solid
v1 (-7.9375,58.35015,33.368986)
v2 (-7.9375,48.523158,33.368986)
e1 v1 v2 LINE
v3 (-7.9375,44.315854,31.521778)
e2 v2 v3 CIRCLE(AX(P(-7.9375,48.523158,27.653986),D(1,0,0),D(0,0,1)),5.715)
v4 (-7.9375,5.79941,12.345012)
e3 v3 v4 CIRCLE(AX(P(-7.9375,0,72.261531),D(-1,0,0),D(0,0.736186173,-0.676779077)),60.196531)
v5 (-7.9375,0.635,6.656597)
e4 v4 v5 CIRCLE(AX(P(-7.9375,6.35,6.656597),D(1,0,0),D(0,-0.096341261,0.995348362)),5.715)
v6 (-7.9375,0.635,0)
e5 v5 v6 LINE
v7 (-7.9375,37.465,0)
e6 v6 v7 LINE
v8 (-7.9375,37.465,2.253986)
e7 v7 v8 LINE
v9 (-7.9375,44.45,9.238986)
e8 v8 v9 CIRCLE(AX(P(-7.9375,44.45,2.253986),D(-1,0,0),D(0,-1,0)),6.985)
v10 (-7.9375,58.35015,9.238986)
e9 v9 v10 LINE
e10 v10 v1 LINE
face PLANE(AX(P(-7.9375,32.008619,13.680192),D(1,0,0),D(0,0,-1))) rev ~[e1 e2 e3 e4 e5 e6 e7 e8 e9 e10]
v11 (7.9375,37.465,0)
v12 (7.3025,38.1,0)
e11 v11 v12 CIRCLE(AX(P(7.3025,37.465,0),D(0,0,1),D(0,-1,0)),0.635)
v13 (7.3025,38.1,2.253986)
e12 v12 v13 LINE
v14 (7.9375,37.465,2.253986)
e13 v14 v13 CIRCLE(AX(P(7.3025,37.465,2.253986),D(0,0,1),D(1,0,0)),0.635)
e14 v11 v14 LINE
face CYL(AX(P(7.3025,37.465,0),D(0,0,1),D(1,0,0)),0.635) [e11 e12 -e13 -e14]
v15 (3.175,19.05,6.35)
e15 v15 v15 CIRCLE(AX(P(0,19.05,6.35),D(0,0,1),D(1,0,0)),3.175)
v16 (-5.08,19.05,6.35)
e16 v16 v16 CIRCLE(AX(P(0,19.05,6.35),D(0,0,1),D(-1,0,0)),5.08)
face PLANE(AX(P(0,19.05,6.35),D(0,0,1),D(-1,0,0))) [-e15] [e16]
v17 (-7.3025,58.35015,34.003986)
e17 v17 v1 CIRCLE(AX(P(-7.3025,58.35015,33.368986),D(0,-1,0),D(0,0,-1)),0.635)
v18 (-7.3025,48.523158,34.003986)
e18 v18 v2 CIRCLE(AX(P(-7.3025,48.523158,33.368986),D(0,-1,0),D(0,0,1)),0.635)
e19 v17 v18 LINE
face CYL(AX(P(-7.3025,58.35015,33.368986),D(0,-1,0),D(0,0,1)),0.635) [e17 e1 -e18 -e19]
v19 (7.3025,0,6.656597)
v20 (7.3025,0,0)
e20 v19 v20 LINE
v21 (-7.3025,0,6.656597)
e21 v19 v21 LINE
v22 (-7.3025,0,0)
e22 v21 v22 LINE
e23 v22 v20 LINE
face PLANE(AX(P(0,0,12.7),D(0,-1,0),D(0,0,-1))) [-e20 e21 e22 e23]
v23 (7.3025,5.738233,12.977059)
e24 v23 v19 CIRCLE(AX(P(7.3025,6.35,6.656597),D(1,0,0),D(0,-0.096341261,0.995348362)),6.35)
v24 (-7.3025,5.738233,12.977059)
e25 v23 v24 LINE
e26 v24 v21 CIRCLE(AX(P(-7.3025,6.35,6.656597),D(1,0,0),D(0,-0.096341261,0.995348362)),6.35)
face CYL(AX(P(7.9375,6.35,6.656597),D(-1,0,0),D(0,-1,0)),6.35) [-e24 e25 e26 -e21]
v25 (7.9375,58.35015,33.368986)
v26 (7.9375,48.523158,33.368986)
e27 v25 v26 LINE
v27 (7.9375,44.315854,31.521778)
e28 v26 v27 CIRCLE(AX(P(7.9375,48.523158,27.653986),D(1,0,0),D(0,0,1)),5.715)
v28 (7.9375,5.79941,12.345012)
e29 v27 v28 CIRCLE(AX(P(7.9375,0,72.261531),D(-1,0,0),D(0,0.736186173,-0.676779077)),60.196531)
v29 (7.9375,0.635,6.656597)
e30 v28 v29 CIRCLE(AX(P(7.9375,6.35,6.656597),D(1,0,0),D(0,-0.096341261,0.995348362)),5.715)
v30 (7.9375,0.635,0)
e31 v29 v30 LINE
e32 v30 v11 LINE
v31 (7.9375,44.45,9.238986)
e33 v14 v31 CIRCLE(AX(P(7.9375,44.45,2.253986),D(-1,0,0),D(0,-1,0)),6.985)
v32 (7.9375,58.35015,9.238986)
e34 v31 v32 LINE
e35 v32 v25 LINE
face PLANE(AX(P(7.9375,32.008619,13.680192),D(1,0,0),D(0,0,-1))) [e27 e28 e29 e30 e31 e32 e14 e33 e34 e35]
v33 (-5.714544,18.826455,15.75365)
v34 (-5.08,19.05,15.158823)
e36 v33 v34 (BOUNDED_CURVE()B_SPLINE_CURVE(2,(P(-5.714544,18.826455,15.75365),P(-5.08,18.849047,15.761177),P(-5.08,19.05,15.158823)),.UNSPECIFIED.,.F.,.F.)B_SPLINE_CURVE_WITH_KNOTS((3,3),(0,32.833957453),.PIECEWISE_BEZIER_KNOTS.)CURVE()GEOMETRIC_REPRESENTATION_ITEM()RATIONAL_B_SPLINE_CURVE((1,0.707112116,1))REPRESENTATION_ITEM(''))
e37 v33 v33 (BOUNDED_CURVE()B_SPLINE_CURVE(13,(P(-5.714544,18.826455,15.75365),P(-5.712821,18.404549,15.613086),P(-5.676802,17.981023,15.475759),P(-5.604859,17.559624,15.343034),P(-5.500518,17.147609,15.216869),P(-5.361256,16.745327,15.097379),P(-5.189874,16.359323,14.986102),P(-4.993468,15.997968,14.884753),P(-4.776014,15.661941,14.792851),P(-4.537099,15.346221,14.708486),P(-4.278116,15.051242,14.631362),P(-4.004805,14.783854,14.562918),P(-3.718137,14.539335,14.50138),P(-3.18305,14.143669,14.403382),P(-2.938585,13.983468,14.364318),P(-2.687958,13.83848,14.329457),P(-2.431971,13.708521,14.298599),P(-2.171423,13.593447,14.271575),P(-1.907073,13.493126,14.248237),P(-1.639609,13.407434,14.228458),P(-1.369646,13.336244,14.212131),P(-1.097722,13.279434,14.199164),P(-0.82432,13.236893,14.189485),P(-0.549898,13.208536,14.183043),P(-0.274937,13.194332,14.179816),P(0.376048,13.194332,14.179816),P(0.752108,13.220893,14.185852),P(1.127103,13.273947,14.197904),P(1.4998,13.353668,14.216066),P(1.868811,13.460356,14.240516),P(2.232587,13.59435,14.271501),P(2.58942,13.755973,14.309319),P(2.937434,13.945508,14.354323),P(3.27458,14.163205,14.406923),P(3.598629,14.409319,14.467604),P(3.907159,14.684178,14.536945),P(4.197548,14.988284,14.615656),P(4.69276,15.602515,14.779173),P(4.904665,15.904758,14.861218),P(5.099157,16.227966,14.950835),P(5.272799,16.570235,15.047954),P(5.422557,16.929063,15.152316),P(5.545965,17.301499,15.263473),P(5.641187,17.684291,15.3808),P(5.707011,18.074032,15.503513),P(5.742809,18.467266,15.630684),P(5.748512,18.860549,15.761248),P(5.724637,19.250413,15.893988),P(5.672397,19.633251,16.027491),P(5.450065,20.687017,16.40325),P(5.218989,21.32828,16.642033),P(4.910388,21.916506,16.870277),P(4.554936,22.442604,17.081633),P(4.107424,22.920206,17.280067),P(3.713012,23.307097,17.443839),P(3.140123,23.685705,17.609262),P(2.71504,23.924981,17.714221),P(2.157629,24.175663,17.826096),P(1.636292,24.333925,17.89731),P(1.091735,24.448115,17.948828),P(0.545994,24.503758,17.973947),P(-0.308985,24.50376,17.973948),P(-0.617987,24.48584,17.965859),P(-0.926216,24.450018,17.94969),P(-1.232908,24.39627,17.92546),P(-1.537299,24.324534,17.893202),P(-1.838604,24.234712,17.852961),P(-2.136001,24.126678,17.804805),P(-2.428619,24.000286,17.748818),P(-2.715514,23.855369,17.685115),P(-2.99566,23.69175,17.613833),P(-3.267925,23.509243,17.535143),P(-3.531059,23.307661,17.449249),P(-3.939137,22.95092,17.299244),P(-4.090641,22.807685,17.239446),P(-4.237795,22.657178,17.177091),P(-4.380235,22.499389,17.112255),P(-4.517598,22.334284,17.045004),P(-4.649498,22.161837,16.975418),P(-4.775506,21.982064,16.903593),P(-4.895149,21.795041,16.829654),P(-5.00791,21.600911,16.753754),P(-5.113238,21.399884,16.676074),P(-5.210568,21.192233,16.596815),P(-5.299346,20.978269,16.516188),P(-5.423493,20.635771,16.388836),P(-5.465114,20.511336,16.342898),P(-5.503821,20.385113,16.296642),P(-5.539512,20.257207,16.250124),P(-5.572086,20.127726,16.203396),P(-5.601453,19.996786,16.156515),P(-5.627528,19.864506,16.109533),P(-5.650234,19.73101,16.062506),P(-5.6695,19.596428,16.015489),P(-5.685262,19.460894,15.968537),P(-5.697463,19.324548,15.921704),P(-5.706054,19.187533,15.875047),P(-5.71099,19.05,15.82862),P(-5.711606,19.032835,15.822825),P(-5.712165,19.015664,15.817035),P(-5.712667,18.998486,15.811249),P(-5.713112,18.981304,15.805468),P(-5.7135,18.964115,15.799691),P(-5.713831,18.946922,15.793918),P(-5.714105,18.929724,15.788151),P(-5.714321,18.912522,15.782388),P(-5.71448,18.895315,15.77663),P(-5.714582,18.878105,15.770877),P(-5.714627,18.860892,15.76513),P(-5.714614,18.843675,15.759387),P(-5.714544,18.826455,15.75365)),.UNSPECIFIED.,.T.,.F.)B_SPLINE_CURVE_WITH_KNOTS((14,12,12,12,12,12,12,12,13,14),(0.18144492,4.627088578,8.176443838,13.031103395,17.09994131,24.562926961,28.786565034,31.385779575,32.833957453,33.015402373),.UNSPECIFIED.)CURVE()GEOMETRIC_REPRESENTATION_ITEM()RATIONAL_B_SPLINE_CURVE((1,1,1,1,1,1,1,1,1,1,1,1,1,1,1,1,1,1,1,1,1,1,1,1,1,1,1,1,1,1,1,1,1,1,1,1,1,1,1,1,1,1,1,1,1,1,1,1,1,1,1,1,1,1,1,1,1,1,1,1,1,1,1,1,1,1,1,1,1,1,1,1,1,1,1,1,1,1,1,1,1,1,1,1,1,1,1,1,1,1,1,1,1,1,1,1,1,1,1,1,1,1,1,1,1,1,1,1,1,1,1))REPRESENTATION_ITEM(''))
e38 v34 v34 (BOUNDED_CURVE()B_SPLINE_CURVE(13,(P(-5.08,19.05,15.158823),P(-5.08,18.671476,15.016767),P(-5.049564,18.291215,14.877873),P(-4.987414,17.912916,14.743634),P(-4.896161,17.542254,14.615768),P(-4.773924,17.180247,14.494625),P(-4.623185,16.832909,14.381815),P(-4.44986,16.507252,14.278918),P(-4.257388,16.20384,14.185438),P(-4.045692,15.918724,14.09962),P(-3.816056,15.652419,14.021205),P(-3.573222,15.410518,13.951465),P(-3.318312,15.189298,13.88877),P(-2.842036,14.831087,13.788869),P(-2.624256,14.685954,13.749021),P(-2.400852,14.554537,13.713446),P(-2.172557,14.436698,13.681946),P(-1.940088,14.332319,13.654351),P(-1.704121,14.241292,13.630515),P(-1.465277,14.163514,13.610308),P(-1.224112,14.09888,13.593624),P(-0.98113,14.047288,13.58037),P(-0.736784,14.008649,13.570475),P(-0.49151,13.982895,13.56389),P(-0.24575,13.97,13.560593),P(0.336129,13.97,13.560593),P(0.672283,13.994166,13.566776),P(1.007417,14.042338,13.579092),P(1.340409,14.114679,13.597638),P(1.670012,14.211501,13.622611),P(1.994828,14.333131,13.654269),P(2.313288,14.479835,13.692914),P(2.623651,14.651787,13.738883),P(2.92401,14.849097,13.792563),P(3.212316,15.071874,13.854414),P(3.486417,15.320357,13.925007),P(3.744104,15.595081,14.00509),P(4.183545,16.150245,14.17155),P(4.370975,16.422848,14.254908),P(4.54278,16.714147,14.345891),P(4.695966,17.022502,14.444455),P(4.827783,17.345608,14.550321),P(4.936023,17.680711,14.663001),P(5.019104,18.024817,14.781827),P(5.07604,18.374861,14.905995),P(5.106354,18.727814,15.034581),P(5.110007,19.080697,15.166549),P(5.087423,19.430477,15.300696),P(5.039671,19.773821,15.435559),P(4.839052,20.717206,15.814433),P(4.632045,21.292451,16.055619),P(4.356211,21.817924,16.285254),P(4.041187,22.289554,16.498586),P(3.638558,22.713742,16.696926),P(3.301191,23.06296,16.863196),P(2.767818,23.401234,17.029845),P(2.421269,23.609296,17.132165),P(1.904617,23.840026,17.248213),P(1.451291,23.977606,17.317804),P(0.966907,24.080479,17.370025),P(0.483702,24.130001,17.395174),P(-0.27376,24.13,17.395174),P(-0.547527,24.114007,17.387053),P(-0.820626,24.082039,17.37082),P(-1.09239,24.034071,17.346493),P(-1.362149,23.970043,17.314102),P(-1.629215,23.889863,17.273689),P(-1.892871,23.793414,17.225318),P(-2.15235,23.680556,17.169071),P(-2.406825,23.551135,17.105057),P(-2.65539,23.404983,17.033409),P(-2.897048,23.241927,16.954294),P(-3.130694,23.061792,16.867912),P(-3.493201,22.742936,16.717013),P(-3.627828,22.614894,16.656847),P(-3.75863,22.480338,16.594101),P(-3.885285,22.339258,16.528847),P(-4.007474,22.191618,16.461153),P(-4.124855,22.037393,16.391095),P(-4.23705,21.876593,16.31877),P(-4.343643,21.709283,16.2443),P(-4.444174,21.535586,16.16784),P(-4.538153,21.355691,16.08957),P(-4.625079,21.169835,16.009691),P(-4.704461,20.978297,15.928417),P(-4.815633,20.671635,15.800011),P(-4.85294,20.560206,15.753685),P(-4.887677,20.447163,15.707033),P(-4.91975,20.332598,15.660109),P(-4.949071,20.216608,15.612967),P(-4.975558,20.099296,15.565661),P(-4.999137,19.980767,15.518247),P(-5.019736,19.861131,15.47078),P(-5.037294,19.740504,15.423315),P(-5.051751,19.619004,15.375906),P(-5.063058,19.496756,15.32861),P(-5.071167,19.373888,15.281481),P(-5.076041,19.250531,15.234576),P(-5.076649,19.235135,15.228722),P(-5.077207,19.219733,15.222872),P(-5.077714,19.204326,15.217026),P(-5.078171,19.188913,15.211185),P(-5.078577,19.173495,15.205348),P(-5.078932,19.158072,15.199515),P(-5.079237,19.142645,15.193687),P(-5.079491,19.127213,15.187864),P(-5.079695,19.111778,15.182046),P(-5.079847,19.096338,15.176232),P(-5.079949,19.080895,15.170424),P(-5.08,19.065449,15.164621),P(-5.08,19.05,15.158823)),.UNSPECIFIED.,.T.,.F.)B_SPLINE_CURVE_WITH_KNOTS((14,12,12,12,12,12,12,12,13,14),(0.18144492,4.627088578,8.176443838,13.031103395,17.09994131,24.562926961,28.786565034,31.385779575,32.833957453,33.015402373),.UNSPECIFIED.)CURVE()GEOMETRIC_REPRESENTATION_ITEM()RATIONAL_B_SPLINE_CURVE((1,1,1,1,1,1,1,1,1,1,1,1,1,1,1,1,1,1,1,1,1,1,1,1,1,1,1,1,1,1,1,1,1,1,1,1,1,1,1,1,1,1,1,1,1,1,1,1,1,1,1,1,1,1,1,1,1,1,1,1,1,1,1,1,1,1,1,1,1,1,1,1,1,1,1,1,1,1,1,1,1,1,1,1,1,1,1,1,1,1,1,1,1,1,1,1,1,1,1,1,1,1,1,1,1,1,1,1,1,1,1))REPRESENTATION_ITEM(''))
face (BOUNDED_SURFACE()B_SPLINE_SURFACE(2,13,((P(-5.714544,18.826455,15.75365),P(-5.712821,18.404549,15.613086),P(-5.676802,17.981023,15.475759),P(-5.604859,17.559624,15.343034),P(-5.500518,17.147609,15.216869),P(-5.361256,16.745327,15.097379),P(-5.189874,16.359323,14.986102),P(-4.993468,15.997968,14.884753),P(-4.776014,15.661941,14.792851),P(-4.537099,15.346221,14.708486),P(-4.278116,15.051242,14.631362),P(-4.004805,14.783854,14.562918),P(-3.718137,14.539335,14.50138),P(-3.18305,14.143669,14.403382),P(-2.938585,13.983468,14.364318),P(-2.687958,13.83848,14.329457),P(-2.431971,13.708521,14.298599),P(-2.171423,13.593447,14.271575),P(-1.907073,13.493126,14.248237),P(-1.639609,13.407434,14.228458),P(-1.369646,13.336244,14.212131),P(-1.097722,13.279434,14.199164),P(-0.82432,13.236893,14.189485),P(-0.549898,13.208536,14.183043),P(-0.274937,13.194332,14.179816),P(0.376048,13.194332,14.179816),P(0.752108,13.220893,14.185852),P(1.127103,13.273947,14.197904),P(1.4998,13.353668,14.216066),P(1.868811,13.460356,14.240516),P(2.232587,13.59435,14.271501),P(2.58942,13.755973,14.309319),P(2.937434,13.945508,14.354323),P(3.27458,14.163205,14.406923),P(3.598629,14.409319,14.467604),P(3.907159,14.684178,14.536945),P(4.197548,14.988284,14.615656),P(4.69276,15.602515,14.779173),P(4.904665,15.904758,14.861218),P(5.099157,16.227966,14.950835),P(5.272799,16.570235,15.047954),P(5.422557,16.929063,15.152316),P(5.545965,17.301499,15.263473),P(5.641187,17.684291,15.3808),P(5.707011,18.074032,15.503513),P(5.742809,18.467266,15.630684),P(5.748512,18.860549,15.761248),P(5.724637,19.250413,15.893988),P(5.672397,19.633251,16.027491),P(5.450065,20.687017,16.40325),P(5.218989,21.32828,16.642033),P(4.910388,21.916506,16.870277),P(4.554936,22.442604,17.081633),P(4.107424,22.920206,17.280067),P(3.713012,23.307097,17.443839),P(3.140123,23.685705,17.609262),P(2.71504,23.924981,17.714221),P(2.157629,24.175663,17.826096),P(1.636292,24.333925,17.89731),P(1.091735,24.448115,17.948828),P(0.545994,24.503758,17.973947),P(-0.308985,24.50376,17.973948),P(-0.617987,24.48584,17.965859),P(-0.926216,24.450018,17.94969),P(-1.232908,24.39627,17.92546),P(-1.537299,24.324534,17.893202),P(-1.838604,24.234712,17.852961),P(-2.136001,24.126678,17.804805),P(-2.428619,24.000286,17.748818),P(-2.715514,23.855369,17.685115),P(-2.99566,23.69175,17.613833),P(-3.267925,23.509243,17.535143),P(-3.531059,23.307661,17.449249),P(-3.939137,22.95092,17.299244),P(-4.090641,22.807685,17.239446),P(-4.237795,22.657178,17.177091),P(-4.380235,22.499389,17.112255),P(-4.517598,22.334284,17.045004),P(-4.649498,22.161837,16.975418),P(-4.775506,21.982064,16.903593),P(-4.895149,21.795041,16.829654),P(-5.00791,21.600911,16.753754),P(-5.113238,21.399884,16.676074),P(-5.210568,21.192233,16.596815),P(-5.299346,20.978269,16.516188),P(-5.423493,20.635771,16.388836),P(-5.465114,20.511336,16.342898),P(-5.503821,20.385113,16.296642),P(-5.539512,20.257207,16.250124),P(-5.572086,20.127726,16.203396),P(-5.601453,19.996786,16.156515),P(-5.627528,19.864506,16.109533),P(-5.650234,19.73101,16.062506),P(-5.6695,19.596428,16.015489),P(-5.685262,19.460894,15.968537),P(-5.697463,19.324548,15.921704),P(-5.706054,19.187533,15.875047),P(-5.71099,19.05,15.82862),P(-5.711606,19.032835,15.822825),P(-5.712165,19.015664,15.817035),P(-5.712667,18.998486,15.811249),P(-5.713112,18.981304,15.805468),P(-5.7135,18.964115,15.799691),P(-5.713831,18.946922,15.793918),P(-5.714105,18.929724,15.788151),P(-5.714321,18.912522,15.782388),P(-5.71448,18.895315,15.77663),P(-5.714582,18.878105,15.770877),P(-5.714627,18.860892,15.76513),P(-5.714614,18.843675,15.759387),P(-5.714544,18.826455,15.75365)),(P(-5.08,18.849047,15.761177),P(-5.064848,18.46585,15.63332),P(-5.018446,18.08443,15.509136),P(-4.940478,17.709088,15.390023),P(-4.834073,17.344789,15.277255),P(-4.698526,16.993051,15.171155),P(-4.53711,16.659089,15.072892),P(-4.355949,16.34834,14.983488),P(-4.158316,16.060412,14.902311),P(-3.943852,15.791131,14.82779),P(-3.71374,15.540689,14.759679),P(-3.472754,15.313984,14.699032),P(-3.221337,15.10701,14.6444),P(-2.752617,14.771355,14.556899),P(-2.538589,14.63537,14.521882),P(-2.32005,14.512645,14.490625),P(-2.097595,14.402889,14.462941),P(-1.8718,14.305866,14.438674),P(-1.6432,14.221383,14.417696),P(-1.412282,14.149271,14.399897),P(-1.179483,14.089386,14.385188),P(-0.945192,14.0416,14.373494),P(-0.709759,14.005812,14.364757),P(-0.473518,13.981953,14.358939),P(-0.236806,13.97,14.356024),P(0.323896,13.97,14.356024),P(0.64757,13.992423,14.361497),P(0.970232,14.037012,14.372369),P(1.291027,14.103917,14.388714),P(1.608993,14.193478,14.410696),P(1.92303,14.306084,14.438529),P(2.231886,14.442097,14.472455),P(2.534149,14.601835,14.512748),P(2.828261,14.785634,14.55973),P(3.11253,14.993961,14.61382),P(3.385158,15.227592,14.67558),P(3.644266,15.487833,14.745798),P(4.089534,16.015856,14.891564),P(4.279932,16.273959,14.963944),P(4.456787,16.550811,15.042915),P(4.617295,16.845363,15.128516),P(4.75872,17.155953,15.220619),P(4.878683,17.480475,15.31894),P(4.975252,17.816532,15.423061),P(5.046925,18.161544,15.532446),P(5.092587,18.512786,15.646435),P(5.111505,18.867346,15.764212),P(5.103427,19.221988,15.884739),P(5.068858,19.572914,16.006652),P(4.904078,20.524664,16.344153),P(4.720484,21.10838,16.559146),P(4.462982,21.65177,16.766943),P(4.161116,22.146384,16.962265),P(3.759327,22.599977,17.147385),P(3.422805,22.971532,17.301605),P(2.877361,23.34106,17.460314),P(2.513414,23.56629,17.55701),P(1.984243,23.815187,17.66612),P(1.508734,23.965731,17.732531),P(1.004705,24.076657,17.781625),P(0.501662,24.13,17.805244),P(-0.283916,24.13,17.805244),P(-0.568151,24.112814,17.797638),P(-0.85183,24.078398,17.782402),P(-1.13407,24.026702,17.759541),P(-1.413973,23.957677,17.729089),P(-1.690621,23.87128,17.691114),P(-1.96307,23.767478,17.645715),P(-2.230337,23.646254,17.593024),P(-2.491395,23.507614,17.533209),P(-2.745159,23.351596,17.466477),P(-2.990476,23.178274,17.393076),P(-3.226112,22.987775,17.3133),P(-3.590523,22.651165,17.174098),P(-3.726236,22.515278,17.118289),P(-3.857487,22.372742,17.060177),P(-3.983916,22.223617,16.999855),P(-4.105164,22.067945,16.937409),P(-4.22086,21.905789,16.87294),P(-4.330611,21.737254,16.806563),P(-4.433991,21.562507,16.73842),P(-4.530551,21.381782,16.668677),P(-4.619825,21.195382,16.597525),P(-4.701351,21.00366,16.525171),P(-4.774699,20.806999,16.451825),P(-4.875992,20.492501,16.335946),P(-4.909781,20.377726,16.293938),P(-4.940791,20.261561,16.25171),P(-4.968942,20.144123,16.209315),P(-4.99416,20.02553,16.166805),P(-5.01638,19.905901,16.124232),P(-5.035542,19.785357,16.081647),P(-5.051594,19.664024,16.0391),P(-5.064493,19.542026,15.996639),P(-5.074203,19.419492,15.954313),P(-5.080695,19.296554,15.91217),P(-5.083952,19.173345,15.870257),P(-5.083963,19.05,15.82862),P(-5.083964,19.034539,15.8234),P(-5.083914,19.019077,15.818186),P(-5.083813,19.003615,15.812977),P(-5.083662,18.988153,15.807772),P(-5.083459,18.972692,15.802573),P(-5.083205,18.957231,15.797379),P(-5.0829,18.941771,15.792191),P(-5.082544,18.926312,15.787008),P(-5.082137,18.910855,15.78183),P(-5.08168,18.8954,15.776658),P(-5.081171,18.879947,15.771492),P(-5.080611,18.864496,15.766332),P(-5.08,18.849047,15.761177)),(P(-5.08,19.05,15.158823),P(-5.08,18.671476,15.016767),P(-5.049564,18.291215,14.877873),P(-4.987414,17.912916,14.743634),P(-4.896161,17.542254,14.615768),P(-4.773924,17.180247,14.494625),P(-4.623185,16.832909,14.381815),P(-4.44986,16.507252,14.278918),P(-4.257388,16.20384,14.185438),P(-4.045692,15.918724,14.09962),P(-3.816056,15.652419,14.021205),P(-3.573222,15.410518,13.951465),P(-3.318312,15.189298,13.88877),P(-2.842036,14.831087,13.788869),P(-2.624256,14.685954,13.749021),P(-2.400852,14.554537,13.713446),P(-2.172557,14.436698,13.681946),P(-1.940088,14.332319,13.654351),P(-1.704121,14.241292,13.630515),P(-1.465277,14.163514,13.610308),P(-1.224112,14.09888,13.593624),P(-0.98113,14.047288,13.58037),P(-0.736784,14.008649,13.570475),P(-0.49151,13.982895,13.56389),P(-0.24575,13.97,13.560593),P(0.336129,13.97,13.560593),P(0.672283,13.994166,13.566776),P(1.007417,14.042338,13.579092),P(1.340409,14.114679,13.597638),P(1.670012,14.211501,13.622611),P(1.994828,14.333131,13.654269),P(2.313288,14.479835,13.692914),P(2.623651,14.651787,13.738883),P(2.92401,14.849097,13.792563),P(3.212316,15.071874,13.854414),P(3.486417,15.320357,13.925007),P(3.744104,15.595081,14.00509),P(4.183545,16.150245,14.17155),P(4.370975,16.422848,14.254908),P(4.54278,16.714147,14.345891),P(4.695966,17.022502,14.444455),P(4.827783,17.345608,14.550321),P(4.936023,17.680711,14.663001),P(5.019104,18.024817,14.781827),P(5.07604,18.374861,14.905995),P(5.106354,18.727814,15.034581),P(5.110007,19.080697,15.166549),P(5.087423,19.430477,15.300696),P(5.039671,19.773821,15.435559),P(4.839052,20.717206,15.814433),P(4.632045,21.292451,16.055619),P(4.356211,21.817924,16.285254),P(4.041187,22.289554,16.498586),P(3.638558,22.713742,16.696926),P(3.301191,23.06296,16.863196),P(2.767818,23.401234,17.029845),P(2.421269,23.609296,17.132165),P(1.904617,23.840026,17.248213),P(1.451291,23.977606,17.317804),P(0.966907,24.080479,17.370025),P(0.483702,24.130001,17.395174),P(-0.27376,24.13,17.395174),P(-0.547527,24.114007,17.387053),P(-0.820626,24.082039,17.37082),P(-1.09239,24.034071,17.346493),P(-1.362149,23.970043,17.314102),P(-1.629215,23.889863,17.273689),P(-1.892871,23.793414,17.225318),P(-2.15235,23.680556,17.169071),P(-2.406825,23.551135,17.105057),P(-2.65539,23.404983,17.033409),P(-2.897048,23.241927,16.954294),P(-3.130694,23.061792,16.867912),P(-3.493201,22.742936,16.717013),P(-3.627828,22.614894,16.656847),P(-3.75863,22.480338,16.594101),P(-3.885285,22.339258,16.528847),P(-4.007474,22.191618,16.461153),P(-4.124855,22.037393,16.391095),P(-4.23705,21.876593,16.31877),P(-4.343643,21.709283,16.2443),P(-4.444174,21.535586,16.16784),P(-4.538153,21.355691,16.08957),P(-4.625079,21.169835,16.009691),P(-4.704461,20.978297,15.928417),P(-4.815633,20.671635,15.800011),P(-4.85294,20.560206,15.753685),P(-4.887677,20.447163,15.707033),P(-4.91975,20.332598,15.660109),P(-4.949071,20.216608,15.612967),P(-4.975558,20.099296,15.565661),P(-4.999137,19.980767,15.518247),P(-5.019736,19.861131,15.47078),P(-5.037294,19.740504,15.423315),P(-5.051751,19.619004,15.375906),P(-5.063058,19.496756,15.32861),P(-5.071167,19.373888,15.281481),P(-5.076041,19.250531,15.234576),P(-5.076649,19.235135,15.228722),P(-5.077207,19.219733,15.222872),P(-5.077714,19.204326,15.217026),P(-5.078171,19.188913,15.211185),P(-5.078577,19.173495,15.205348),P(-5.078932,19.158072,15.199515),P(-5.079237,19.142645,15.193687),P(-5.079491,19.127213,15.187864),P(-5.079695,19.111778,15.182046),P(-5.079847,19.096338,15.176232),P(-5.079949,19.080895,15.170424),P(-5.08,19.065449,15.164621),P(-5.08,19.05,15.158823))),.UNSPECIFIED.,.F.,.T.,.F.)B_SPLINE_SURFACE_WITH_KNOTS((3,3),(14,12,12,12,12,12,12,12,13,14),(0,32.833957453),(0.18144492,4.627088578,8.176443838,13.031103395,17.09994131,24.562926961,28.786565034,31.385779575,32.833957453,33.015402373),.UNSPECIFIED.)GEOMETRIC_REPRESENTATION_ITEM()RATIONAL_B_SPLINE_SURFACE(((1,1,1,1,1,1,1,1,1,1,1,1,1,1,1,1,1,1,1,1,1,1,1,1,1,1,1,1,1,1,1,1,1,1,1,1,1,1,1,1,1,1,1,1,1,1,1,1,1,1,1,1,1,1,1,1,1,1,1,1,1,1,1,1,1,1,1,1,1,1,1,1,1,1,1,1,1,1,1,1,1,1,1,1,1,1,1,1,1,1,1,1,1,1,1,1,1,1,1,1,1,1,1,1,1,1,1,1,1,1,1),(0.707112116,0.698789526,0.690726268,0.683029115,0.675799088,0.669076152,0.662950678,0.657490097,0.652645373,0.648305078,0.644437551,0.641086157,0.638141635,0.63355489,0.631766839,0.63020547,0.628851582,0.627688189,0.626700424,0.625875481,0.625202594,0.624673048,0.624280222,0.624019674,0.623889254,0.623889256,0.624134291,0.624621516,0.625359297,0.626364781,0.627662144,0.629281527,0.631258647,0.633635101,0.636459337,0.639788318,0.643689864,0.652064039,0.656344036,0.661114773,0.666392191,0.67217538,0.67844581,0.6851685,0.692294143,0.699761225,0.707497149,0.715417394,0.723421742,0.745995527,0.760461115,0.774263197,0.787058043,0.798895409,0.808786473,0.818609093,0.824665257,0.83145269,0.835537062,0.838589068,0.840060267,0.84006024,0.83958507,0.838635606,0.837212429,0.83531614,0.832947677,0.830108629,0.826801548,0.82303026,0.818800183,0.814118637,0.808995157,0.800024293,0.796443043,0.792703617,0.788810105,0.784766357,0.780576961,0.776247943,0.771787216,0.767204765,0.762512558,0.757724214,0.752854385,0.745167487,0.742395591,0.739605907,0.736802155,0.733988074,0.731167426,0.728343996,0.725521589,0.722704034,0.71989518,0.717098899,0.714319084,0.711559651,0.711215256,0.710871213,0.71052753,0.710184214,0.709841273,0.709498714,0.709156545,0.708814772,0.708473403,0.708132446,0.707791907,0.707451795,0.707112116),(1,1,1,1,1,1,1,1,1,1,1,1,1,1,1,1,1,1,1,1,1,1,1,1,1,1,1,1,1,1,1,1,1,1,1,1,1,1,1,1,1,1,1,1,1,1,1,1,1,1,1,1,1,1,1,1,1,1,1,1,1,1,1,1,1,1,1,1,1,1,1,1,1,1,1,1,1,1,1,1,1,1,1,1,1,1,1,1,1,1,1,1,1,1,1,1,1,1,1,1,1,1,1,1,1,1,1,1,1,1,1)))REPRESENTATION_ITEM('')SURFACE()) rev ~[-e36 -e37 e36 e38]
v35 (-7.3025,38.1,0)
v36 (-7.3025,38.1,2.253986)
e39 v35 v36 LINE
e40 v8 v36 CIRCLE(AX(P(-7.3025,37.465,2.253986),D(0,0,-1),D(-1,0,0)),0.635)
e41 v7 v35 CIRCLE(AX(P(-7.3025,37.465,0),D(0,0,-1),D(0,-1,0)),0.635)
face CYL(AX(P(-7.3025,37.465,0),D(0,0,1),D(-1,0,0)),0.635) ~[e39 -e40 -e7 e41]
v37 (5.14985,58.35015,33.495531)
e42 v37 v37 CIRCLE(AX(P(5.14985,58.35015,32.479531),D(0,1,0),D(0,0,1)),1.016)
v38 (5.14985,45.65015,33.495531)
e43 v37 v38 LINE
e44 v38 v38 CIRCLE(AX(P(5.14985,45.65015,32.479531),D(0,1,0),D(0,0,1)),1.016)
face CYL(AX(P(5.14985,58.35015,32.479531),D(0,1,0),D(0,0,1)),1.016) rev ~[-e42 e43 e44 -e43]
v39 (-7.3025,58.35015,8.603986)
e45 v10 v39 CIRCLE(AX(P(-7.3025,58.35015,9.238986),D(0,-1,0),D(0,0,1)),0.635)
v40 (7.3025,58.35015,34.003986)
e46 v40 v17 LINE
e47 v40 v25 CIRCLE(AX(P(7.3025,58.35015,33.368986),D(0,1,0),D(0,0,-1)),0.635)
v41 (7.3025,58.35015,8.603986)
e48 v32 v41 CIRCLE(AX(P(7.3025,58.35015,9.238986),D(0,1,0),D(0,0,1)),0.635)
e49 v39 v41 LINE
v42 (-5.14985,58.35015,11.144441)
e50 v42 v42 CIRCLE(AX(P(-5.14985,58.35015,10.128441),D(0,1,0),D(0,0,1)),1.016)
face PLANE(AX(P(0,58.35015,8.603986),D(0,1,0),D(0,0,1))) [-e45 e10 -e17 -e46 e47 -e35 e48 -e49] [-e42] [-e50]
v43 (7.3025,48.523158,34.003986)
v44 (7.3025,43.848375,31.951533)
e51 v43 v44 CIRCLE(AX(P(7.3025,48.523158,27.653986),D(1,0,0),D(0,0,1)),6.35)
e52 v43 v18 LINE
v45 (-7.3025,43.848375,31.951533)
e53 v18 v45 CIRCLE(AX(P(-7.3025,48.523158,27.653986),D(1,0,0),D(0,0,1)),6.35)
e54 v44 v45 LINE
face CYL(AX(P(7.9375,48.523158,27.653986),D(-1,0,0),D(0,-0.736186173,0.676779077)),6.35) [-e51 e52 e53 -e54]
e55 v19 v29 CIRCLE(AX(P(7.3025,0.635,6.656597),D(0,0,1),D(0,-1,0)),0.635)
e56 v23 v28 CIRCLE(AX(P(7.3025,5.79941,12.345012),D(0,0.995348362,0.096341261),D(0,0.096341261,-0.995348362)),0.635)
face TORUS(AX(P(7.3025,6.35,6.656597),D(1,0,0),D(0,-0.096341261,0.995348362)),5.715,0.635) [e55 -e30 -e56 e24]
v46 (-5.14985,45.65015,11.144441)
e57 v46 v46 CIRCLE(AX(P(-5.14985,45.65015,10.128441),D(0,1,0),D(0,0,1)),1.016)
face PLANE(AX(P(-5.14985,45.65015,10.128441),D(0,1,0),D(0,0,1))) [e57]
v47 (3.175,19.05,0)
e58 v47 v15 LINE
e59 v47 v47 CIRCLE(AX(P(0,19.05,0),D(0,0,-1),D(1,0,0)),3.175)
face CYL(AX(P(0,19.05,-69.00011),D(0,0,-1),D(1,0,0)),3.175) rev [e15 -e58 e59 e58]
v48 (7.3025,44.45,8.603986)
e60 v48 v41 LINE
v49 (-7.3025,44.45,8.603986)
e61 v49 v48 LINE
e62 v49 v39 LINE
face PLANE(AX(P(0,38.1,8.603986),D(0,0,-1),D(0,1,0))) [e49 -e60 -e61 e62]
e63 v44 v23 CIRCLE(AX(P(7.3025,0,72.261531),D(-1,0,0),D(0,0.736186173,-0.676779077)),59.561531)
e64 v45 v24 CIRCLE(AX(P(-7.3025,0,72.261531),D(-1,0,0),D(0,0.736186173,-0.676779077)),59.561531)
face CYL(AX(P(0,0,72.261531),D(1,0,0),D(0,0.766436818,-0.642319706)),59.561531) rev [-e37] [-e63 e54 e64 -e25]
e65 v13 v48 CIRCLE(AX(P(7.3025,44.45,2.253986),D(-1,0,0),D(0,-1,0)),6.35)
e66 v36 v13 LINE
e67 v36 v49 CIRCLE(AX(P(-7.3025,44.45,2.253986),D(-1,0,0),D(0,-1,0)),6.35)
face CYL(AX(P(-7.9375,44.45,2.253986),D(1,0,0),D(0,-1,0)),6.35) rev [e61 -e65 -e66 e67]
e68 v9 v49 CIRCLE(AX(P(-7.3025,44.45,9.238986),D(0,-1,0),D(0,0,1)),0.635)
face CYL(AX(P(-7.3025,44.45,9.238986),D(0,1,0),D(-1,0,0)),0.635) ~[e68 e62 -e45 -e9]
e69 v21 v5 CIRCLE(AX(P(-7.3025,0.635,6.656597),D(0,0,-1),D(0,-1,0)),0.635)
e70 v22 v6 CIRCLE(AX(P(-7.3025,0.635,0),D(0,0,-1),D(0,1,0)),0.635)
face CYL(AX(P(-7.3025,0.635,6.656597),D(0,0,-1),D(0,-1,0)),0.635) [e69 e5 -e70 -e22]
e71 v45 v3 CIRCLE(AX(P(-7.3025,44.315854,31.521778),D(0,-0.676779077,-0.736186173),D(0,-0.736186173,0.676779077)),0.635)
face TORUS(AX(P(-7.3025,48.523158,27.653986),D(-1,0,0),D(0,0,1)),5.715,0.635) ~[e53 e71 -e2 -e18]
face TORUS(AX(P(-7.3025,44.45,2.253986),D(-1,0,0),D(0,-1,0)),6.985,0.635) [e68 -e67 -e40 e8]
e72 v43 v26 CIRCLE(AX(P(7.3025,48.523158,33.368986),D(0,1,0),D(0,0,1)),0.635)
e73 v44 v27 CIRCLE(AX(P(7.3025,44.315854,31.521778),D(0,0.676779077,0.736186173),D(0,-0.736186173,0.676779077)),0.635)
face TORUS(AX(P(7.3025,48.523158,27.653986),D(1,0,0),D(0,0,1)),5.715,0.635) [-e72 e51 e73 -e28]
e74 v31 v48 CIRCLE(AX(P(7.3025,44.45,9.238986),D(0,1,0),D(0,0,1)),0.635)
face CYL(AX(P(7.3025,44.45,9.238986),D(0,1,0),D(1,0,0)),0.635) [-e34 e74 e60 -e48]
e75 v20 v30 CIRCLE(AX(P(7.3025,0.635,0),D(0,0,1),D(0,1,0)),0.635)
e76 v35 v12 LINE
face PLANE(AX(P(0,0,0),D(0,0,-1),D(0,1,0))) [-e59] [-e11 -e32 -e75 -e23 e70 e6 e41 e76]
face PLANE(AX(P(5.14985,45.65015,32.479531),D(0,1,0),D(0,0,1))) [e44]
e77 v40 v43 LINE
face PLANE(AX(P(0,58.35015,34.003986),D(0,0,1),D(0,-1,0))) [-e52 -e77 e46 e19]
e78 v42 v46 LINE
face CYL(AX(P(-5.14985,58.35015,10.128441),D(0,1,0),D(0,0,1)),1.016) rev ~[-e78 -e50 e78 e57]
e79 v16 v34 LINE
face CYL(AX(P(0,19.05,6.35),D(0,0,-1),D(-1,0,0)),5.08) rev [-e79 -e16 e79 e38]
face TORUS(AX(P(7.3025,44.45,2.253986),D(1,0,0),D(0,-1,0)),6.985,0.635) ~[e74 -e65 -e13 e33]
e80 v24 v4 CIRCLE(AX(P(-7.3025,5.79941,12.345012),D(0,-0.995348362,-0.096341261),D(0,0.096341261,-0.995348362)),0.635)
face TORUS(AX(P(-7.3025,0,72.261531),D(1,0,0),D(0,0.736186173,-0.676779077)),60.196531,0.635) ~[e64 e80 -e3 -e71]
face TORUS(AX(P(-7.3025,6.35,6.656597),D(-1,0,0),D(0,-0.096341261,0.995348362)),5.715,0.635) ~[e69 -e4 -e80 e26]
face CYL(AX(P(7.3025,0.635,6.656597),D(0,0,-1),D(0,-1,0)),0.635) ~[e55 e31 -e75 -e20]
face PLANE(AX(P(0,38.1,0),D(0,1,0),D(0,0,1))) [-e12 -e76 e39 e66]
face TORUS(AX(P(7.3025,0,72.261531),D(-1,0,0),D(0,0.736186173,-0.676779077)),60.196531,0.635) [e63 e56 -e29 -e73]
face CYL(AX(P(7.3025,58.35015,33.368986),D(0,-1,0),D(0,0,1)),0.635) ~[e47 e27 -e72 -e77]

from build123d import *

# Parameters (mm, degrees)
BOSS_EXTRUDE1_DEPTH     = 7.9375
CUT_EXTRUDE1_DEPTH      = 69.000110012
CUT_EXTRUDE1_DEPTH_BACK = 69.000110012
SKETCH2_R               = 3.175
CUT_EXTRUDE4_START      = 6.35
SKETCH2_3_R             = 5.08
SKETCH2_3_R_2           = 3.175
CUT_EXTRUDE4_DEPTH      = 62.650110074
SKETCH3_R               = 1.016
CUT_EXTRUDE2_DEPTH      = 12.7
FILLET1_R               = 6.35
FILLET2_R               = 0.635


with BuildPart() as part:
    # Sketch1 → Boss-Extrude1 (new, symmetric)
    with BuildSketch(Plane(origin=(0, 0, 0), x_dir=(0, 0, -1), z_dir=(1, 0, 0))):
        with BuildLine():
            Line((-12.7, 0), (0, 0))
            Line((0, 0), (0, 38.1))
            Line((0, 38.1), (-8.603985801, 38.1))
            Line((-8.603985801, 38.1), (-8.603985801, 58.35015))
            Line((-8.603985801, 58.35015), (-34.003985801, 58.35015))
            Line((-34.003985801, 58.35015), (-34.003985801, 45.65015))
            ThreePointArc((-34.003985801, 45.65015), (-18.28813969, 25.18827111), (-12.7, 0))
        make_face()
    extrude(amount=BOSS_EXTRUDE1_DEPTH, both=True)

    # Sketch2 → Cut-Extrude1 (cut, two sides: drawn at the far end of the back side and taken through both)
    with BuildSketch(Plane.XY.offset(-CUT_EXTRUDE1_DEPTH_BACK)):
        with Locations((0, 19.05)):
            Circle(SKETCH2_R)
    extrude(amount=CUT_EXTRUDE1_DEPTH + CUT_EXTRUDE1_DEPTH_BACK, mode=Mode.SUBTRACT)

    # Sketch2<3> → Cut-Extrude4 (cut, through all)
    with BuildSketch(Plane.XY.offset(CUT_EXTRUDE4_START)):
        with Locations((0, 19.05)):
            Circle(SKETCH2_3_R)
        with Locations((0, 19.05)):
            Circle(SKETCH2_3_R_2, mode=Mode.SUBTRACT)
    extrude(amount=CUT_EXTRUDE4_DEPTH, mode=Mode.SUBTRACT)

    # Sketch3 → Cut-Extrude2 (cut)
    with BuildSketch(Plane(origin=(0, 58.35015, 0), x_dir=(1, 0, 0), z_dir=(0, 1, 0))):
        with Locations((-5.14985, -10.128440702)):
            Circle(SKETCH3_R)
        with Locations((5.14985, -32.479530901)):
            Circle(SKETCH3_R)
    extrude(amount=-CUT_EXTRUDE2_DEPTH, mode=Mode.SUBTRACT)

    # Fillet1
    fillet1_edges = [part.edges().sort_by_distance(p)[0] for p in [
        (0, 38.1, 8.603985801),
        (0, 0, 12.7),
        (0, 45.65015, 34.003985801),
    ]]
    fillet(fillet1_edges, radius=FILLET1_R)

    # Fillet2
    fillet2_edges = [part.edges().sort_by_distance(p)[0] for p in [
        (-7.9375, 38.1, 1.126992901),
        (-7.9375, 39.959871939, 6.744113862),
        (7.9375, 38.1, 1.126992901),
        (7.9375, 39.959871939, 6.744113862),
        (-7.9375, 0, 3.328298297),
        (-7.9375, 1.648552323, 10.924955733),
        (-7.9375, 26.546479972, 18.943050417),
        (-7.9375, 45.970406475, 33.468275281),
        (7.9375, 0, 3.328298297),
        (7.9375, 1.648552323, 10.924955733),
        (7.9375, 26.546479972, 18.943050417),
        (7.9375, 45.970406475, 33.468275281),
        (-7.9375, 51.400075, 8.603985801),
        (7.9375, 51.400075, 8.603985801),
        (-7.9375, 53.436653755, 34.003985801),
        (7.9375, 53.436653755, 34.003985801),
        (-5.078897735, 19.155819437, 15.864451719),
    ]]
    fillet(fillet2_edges, radius=FILLET2_R)


solid = part.part
